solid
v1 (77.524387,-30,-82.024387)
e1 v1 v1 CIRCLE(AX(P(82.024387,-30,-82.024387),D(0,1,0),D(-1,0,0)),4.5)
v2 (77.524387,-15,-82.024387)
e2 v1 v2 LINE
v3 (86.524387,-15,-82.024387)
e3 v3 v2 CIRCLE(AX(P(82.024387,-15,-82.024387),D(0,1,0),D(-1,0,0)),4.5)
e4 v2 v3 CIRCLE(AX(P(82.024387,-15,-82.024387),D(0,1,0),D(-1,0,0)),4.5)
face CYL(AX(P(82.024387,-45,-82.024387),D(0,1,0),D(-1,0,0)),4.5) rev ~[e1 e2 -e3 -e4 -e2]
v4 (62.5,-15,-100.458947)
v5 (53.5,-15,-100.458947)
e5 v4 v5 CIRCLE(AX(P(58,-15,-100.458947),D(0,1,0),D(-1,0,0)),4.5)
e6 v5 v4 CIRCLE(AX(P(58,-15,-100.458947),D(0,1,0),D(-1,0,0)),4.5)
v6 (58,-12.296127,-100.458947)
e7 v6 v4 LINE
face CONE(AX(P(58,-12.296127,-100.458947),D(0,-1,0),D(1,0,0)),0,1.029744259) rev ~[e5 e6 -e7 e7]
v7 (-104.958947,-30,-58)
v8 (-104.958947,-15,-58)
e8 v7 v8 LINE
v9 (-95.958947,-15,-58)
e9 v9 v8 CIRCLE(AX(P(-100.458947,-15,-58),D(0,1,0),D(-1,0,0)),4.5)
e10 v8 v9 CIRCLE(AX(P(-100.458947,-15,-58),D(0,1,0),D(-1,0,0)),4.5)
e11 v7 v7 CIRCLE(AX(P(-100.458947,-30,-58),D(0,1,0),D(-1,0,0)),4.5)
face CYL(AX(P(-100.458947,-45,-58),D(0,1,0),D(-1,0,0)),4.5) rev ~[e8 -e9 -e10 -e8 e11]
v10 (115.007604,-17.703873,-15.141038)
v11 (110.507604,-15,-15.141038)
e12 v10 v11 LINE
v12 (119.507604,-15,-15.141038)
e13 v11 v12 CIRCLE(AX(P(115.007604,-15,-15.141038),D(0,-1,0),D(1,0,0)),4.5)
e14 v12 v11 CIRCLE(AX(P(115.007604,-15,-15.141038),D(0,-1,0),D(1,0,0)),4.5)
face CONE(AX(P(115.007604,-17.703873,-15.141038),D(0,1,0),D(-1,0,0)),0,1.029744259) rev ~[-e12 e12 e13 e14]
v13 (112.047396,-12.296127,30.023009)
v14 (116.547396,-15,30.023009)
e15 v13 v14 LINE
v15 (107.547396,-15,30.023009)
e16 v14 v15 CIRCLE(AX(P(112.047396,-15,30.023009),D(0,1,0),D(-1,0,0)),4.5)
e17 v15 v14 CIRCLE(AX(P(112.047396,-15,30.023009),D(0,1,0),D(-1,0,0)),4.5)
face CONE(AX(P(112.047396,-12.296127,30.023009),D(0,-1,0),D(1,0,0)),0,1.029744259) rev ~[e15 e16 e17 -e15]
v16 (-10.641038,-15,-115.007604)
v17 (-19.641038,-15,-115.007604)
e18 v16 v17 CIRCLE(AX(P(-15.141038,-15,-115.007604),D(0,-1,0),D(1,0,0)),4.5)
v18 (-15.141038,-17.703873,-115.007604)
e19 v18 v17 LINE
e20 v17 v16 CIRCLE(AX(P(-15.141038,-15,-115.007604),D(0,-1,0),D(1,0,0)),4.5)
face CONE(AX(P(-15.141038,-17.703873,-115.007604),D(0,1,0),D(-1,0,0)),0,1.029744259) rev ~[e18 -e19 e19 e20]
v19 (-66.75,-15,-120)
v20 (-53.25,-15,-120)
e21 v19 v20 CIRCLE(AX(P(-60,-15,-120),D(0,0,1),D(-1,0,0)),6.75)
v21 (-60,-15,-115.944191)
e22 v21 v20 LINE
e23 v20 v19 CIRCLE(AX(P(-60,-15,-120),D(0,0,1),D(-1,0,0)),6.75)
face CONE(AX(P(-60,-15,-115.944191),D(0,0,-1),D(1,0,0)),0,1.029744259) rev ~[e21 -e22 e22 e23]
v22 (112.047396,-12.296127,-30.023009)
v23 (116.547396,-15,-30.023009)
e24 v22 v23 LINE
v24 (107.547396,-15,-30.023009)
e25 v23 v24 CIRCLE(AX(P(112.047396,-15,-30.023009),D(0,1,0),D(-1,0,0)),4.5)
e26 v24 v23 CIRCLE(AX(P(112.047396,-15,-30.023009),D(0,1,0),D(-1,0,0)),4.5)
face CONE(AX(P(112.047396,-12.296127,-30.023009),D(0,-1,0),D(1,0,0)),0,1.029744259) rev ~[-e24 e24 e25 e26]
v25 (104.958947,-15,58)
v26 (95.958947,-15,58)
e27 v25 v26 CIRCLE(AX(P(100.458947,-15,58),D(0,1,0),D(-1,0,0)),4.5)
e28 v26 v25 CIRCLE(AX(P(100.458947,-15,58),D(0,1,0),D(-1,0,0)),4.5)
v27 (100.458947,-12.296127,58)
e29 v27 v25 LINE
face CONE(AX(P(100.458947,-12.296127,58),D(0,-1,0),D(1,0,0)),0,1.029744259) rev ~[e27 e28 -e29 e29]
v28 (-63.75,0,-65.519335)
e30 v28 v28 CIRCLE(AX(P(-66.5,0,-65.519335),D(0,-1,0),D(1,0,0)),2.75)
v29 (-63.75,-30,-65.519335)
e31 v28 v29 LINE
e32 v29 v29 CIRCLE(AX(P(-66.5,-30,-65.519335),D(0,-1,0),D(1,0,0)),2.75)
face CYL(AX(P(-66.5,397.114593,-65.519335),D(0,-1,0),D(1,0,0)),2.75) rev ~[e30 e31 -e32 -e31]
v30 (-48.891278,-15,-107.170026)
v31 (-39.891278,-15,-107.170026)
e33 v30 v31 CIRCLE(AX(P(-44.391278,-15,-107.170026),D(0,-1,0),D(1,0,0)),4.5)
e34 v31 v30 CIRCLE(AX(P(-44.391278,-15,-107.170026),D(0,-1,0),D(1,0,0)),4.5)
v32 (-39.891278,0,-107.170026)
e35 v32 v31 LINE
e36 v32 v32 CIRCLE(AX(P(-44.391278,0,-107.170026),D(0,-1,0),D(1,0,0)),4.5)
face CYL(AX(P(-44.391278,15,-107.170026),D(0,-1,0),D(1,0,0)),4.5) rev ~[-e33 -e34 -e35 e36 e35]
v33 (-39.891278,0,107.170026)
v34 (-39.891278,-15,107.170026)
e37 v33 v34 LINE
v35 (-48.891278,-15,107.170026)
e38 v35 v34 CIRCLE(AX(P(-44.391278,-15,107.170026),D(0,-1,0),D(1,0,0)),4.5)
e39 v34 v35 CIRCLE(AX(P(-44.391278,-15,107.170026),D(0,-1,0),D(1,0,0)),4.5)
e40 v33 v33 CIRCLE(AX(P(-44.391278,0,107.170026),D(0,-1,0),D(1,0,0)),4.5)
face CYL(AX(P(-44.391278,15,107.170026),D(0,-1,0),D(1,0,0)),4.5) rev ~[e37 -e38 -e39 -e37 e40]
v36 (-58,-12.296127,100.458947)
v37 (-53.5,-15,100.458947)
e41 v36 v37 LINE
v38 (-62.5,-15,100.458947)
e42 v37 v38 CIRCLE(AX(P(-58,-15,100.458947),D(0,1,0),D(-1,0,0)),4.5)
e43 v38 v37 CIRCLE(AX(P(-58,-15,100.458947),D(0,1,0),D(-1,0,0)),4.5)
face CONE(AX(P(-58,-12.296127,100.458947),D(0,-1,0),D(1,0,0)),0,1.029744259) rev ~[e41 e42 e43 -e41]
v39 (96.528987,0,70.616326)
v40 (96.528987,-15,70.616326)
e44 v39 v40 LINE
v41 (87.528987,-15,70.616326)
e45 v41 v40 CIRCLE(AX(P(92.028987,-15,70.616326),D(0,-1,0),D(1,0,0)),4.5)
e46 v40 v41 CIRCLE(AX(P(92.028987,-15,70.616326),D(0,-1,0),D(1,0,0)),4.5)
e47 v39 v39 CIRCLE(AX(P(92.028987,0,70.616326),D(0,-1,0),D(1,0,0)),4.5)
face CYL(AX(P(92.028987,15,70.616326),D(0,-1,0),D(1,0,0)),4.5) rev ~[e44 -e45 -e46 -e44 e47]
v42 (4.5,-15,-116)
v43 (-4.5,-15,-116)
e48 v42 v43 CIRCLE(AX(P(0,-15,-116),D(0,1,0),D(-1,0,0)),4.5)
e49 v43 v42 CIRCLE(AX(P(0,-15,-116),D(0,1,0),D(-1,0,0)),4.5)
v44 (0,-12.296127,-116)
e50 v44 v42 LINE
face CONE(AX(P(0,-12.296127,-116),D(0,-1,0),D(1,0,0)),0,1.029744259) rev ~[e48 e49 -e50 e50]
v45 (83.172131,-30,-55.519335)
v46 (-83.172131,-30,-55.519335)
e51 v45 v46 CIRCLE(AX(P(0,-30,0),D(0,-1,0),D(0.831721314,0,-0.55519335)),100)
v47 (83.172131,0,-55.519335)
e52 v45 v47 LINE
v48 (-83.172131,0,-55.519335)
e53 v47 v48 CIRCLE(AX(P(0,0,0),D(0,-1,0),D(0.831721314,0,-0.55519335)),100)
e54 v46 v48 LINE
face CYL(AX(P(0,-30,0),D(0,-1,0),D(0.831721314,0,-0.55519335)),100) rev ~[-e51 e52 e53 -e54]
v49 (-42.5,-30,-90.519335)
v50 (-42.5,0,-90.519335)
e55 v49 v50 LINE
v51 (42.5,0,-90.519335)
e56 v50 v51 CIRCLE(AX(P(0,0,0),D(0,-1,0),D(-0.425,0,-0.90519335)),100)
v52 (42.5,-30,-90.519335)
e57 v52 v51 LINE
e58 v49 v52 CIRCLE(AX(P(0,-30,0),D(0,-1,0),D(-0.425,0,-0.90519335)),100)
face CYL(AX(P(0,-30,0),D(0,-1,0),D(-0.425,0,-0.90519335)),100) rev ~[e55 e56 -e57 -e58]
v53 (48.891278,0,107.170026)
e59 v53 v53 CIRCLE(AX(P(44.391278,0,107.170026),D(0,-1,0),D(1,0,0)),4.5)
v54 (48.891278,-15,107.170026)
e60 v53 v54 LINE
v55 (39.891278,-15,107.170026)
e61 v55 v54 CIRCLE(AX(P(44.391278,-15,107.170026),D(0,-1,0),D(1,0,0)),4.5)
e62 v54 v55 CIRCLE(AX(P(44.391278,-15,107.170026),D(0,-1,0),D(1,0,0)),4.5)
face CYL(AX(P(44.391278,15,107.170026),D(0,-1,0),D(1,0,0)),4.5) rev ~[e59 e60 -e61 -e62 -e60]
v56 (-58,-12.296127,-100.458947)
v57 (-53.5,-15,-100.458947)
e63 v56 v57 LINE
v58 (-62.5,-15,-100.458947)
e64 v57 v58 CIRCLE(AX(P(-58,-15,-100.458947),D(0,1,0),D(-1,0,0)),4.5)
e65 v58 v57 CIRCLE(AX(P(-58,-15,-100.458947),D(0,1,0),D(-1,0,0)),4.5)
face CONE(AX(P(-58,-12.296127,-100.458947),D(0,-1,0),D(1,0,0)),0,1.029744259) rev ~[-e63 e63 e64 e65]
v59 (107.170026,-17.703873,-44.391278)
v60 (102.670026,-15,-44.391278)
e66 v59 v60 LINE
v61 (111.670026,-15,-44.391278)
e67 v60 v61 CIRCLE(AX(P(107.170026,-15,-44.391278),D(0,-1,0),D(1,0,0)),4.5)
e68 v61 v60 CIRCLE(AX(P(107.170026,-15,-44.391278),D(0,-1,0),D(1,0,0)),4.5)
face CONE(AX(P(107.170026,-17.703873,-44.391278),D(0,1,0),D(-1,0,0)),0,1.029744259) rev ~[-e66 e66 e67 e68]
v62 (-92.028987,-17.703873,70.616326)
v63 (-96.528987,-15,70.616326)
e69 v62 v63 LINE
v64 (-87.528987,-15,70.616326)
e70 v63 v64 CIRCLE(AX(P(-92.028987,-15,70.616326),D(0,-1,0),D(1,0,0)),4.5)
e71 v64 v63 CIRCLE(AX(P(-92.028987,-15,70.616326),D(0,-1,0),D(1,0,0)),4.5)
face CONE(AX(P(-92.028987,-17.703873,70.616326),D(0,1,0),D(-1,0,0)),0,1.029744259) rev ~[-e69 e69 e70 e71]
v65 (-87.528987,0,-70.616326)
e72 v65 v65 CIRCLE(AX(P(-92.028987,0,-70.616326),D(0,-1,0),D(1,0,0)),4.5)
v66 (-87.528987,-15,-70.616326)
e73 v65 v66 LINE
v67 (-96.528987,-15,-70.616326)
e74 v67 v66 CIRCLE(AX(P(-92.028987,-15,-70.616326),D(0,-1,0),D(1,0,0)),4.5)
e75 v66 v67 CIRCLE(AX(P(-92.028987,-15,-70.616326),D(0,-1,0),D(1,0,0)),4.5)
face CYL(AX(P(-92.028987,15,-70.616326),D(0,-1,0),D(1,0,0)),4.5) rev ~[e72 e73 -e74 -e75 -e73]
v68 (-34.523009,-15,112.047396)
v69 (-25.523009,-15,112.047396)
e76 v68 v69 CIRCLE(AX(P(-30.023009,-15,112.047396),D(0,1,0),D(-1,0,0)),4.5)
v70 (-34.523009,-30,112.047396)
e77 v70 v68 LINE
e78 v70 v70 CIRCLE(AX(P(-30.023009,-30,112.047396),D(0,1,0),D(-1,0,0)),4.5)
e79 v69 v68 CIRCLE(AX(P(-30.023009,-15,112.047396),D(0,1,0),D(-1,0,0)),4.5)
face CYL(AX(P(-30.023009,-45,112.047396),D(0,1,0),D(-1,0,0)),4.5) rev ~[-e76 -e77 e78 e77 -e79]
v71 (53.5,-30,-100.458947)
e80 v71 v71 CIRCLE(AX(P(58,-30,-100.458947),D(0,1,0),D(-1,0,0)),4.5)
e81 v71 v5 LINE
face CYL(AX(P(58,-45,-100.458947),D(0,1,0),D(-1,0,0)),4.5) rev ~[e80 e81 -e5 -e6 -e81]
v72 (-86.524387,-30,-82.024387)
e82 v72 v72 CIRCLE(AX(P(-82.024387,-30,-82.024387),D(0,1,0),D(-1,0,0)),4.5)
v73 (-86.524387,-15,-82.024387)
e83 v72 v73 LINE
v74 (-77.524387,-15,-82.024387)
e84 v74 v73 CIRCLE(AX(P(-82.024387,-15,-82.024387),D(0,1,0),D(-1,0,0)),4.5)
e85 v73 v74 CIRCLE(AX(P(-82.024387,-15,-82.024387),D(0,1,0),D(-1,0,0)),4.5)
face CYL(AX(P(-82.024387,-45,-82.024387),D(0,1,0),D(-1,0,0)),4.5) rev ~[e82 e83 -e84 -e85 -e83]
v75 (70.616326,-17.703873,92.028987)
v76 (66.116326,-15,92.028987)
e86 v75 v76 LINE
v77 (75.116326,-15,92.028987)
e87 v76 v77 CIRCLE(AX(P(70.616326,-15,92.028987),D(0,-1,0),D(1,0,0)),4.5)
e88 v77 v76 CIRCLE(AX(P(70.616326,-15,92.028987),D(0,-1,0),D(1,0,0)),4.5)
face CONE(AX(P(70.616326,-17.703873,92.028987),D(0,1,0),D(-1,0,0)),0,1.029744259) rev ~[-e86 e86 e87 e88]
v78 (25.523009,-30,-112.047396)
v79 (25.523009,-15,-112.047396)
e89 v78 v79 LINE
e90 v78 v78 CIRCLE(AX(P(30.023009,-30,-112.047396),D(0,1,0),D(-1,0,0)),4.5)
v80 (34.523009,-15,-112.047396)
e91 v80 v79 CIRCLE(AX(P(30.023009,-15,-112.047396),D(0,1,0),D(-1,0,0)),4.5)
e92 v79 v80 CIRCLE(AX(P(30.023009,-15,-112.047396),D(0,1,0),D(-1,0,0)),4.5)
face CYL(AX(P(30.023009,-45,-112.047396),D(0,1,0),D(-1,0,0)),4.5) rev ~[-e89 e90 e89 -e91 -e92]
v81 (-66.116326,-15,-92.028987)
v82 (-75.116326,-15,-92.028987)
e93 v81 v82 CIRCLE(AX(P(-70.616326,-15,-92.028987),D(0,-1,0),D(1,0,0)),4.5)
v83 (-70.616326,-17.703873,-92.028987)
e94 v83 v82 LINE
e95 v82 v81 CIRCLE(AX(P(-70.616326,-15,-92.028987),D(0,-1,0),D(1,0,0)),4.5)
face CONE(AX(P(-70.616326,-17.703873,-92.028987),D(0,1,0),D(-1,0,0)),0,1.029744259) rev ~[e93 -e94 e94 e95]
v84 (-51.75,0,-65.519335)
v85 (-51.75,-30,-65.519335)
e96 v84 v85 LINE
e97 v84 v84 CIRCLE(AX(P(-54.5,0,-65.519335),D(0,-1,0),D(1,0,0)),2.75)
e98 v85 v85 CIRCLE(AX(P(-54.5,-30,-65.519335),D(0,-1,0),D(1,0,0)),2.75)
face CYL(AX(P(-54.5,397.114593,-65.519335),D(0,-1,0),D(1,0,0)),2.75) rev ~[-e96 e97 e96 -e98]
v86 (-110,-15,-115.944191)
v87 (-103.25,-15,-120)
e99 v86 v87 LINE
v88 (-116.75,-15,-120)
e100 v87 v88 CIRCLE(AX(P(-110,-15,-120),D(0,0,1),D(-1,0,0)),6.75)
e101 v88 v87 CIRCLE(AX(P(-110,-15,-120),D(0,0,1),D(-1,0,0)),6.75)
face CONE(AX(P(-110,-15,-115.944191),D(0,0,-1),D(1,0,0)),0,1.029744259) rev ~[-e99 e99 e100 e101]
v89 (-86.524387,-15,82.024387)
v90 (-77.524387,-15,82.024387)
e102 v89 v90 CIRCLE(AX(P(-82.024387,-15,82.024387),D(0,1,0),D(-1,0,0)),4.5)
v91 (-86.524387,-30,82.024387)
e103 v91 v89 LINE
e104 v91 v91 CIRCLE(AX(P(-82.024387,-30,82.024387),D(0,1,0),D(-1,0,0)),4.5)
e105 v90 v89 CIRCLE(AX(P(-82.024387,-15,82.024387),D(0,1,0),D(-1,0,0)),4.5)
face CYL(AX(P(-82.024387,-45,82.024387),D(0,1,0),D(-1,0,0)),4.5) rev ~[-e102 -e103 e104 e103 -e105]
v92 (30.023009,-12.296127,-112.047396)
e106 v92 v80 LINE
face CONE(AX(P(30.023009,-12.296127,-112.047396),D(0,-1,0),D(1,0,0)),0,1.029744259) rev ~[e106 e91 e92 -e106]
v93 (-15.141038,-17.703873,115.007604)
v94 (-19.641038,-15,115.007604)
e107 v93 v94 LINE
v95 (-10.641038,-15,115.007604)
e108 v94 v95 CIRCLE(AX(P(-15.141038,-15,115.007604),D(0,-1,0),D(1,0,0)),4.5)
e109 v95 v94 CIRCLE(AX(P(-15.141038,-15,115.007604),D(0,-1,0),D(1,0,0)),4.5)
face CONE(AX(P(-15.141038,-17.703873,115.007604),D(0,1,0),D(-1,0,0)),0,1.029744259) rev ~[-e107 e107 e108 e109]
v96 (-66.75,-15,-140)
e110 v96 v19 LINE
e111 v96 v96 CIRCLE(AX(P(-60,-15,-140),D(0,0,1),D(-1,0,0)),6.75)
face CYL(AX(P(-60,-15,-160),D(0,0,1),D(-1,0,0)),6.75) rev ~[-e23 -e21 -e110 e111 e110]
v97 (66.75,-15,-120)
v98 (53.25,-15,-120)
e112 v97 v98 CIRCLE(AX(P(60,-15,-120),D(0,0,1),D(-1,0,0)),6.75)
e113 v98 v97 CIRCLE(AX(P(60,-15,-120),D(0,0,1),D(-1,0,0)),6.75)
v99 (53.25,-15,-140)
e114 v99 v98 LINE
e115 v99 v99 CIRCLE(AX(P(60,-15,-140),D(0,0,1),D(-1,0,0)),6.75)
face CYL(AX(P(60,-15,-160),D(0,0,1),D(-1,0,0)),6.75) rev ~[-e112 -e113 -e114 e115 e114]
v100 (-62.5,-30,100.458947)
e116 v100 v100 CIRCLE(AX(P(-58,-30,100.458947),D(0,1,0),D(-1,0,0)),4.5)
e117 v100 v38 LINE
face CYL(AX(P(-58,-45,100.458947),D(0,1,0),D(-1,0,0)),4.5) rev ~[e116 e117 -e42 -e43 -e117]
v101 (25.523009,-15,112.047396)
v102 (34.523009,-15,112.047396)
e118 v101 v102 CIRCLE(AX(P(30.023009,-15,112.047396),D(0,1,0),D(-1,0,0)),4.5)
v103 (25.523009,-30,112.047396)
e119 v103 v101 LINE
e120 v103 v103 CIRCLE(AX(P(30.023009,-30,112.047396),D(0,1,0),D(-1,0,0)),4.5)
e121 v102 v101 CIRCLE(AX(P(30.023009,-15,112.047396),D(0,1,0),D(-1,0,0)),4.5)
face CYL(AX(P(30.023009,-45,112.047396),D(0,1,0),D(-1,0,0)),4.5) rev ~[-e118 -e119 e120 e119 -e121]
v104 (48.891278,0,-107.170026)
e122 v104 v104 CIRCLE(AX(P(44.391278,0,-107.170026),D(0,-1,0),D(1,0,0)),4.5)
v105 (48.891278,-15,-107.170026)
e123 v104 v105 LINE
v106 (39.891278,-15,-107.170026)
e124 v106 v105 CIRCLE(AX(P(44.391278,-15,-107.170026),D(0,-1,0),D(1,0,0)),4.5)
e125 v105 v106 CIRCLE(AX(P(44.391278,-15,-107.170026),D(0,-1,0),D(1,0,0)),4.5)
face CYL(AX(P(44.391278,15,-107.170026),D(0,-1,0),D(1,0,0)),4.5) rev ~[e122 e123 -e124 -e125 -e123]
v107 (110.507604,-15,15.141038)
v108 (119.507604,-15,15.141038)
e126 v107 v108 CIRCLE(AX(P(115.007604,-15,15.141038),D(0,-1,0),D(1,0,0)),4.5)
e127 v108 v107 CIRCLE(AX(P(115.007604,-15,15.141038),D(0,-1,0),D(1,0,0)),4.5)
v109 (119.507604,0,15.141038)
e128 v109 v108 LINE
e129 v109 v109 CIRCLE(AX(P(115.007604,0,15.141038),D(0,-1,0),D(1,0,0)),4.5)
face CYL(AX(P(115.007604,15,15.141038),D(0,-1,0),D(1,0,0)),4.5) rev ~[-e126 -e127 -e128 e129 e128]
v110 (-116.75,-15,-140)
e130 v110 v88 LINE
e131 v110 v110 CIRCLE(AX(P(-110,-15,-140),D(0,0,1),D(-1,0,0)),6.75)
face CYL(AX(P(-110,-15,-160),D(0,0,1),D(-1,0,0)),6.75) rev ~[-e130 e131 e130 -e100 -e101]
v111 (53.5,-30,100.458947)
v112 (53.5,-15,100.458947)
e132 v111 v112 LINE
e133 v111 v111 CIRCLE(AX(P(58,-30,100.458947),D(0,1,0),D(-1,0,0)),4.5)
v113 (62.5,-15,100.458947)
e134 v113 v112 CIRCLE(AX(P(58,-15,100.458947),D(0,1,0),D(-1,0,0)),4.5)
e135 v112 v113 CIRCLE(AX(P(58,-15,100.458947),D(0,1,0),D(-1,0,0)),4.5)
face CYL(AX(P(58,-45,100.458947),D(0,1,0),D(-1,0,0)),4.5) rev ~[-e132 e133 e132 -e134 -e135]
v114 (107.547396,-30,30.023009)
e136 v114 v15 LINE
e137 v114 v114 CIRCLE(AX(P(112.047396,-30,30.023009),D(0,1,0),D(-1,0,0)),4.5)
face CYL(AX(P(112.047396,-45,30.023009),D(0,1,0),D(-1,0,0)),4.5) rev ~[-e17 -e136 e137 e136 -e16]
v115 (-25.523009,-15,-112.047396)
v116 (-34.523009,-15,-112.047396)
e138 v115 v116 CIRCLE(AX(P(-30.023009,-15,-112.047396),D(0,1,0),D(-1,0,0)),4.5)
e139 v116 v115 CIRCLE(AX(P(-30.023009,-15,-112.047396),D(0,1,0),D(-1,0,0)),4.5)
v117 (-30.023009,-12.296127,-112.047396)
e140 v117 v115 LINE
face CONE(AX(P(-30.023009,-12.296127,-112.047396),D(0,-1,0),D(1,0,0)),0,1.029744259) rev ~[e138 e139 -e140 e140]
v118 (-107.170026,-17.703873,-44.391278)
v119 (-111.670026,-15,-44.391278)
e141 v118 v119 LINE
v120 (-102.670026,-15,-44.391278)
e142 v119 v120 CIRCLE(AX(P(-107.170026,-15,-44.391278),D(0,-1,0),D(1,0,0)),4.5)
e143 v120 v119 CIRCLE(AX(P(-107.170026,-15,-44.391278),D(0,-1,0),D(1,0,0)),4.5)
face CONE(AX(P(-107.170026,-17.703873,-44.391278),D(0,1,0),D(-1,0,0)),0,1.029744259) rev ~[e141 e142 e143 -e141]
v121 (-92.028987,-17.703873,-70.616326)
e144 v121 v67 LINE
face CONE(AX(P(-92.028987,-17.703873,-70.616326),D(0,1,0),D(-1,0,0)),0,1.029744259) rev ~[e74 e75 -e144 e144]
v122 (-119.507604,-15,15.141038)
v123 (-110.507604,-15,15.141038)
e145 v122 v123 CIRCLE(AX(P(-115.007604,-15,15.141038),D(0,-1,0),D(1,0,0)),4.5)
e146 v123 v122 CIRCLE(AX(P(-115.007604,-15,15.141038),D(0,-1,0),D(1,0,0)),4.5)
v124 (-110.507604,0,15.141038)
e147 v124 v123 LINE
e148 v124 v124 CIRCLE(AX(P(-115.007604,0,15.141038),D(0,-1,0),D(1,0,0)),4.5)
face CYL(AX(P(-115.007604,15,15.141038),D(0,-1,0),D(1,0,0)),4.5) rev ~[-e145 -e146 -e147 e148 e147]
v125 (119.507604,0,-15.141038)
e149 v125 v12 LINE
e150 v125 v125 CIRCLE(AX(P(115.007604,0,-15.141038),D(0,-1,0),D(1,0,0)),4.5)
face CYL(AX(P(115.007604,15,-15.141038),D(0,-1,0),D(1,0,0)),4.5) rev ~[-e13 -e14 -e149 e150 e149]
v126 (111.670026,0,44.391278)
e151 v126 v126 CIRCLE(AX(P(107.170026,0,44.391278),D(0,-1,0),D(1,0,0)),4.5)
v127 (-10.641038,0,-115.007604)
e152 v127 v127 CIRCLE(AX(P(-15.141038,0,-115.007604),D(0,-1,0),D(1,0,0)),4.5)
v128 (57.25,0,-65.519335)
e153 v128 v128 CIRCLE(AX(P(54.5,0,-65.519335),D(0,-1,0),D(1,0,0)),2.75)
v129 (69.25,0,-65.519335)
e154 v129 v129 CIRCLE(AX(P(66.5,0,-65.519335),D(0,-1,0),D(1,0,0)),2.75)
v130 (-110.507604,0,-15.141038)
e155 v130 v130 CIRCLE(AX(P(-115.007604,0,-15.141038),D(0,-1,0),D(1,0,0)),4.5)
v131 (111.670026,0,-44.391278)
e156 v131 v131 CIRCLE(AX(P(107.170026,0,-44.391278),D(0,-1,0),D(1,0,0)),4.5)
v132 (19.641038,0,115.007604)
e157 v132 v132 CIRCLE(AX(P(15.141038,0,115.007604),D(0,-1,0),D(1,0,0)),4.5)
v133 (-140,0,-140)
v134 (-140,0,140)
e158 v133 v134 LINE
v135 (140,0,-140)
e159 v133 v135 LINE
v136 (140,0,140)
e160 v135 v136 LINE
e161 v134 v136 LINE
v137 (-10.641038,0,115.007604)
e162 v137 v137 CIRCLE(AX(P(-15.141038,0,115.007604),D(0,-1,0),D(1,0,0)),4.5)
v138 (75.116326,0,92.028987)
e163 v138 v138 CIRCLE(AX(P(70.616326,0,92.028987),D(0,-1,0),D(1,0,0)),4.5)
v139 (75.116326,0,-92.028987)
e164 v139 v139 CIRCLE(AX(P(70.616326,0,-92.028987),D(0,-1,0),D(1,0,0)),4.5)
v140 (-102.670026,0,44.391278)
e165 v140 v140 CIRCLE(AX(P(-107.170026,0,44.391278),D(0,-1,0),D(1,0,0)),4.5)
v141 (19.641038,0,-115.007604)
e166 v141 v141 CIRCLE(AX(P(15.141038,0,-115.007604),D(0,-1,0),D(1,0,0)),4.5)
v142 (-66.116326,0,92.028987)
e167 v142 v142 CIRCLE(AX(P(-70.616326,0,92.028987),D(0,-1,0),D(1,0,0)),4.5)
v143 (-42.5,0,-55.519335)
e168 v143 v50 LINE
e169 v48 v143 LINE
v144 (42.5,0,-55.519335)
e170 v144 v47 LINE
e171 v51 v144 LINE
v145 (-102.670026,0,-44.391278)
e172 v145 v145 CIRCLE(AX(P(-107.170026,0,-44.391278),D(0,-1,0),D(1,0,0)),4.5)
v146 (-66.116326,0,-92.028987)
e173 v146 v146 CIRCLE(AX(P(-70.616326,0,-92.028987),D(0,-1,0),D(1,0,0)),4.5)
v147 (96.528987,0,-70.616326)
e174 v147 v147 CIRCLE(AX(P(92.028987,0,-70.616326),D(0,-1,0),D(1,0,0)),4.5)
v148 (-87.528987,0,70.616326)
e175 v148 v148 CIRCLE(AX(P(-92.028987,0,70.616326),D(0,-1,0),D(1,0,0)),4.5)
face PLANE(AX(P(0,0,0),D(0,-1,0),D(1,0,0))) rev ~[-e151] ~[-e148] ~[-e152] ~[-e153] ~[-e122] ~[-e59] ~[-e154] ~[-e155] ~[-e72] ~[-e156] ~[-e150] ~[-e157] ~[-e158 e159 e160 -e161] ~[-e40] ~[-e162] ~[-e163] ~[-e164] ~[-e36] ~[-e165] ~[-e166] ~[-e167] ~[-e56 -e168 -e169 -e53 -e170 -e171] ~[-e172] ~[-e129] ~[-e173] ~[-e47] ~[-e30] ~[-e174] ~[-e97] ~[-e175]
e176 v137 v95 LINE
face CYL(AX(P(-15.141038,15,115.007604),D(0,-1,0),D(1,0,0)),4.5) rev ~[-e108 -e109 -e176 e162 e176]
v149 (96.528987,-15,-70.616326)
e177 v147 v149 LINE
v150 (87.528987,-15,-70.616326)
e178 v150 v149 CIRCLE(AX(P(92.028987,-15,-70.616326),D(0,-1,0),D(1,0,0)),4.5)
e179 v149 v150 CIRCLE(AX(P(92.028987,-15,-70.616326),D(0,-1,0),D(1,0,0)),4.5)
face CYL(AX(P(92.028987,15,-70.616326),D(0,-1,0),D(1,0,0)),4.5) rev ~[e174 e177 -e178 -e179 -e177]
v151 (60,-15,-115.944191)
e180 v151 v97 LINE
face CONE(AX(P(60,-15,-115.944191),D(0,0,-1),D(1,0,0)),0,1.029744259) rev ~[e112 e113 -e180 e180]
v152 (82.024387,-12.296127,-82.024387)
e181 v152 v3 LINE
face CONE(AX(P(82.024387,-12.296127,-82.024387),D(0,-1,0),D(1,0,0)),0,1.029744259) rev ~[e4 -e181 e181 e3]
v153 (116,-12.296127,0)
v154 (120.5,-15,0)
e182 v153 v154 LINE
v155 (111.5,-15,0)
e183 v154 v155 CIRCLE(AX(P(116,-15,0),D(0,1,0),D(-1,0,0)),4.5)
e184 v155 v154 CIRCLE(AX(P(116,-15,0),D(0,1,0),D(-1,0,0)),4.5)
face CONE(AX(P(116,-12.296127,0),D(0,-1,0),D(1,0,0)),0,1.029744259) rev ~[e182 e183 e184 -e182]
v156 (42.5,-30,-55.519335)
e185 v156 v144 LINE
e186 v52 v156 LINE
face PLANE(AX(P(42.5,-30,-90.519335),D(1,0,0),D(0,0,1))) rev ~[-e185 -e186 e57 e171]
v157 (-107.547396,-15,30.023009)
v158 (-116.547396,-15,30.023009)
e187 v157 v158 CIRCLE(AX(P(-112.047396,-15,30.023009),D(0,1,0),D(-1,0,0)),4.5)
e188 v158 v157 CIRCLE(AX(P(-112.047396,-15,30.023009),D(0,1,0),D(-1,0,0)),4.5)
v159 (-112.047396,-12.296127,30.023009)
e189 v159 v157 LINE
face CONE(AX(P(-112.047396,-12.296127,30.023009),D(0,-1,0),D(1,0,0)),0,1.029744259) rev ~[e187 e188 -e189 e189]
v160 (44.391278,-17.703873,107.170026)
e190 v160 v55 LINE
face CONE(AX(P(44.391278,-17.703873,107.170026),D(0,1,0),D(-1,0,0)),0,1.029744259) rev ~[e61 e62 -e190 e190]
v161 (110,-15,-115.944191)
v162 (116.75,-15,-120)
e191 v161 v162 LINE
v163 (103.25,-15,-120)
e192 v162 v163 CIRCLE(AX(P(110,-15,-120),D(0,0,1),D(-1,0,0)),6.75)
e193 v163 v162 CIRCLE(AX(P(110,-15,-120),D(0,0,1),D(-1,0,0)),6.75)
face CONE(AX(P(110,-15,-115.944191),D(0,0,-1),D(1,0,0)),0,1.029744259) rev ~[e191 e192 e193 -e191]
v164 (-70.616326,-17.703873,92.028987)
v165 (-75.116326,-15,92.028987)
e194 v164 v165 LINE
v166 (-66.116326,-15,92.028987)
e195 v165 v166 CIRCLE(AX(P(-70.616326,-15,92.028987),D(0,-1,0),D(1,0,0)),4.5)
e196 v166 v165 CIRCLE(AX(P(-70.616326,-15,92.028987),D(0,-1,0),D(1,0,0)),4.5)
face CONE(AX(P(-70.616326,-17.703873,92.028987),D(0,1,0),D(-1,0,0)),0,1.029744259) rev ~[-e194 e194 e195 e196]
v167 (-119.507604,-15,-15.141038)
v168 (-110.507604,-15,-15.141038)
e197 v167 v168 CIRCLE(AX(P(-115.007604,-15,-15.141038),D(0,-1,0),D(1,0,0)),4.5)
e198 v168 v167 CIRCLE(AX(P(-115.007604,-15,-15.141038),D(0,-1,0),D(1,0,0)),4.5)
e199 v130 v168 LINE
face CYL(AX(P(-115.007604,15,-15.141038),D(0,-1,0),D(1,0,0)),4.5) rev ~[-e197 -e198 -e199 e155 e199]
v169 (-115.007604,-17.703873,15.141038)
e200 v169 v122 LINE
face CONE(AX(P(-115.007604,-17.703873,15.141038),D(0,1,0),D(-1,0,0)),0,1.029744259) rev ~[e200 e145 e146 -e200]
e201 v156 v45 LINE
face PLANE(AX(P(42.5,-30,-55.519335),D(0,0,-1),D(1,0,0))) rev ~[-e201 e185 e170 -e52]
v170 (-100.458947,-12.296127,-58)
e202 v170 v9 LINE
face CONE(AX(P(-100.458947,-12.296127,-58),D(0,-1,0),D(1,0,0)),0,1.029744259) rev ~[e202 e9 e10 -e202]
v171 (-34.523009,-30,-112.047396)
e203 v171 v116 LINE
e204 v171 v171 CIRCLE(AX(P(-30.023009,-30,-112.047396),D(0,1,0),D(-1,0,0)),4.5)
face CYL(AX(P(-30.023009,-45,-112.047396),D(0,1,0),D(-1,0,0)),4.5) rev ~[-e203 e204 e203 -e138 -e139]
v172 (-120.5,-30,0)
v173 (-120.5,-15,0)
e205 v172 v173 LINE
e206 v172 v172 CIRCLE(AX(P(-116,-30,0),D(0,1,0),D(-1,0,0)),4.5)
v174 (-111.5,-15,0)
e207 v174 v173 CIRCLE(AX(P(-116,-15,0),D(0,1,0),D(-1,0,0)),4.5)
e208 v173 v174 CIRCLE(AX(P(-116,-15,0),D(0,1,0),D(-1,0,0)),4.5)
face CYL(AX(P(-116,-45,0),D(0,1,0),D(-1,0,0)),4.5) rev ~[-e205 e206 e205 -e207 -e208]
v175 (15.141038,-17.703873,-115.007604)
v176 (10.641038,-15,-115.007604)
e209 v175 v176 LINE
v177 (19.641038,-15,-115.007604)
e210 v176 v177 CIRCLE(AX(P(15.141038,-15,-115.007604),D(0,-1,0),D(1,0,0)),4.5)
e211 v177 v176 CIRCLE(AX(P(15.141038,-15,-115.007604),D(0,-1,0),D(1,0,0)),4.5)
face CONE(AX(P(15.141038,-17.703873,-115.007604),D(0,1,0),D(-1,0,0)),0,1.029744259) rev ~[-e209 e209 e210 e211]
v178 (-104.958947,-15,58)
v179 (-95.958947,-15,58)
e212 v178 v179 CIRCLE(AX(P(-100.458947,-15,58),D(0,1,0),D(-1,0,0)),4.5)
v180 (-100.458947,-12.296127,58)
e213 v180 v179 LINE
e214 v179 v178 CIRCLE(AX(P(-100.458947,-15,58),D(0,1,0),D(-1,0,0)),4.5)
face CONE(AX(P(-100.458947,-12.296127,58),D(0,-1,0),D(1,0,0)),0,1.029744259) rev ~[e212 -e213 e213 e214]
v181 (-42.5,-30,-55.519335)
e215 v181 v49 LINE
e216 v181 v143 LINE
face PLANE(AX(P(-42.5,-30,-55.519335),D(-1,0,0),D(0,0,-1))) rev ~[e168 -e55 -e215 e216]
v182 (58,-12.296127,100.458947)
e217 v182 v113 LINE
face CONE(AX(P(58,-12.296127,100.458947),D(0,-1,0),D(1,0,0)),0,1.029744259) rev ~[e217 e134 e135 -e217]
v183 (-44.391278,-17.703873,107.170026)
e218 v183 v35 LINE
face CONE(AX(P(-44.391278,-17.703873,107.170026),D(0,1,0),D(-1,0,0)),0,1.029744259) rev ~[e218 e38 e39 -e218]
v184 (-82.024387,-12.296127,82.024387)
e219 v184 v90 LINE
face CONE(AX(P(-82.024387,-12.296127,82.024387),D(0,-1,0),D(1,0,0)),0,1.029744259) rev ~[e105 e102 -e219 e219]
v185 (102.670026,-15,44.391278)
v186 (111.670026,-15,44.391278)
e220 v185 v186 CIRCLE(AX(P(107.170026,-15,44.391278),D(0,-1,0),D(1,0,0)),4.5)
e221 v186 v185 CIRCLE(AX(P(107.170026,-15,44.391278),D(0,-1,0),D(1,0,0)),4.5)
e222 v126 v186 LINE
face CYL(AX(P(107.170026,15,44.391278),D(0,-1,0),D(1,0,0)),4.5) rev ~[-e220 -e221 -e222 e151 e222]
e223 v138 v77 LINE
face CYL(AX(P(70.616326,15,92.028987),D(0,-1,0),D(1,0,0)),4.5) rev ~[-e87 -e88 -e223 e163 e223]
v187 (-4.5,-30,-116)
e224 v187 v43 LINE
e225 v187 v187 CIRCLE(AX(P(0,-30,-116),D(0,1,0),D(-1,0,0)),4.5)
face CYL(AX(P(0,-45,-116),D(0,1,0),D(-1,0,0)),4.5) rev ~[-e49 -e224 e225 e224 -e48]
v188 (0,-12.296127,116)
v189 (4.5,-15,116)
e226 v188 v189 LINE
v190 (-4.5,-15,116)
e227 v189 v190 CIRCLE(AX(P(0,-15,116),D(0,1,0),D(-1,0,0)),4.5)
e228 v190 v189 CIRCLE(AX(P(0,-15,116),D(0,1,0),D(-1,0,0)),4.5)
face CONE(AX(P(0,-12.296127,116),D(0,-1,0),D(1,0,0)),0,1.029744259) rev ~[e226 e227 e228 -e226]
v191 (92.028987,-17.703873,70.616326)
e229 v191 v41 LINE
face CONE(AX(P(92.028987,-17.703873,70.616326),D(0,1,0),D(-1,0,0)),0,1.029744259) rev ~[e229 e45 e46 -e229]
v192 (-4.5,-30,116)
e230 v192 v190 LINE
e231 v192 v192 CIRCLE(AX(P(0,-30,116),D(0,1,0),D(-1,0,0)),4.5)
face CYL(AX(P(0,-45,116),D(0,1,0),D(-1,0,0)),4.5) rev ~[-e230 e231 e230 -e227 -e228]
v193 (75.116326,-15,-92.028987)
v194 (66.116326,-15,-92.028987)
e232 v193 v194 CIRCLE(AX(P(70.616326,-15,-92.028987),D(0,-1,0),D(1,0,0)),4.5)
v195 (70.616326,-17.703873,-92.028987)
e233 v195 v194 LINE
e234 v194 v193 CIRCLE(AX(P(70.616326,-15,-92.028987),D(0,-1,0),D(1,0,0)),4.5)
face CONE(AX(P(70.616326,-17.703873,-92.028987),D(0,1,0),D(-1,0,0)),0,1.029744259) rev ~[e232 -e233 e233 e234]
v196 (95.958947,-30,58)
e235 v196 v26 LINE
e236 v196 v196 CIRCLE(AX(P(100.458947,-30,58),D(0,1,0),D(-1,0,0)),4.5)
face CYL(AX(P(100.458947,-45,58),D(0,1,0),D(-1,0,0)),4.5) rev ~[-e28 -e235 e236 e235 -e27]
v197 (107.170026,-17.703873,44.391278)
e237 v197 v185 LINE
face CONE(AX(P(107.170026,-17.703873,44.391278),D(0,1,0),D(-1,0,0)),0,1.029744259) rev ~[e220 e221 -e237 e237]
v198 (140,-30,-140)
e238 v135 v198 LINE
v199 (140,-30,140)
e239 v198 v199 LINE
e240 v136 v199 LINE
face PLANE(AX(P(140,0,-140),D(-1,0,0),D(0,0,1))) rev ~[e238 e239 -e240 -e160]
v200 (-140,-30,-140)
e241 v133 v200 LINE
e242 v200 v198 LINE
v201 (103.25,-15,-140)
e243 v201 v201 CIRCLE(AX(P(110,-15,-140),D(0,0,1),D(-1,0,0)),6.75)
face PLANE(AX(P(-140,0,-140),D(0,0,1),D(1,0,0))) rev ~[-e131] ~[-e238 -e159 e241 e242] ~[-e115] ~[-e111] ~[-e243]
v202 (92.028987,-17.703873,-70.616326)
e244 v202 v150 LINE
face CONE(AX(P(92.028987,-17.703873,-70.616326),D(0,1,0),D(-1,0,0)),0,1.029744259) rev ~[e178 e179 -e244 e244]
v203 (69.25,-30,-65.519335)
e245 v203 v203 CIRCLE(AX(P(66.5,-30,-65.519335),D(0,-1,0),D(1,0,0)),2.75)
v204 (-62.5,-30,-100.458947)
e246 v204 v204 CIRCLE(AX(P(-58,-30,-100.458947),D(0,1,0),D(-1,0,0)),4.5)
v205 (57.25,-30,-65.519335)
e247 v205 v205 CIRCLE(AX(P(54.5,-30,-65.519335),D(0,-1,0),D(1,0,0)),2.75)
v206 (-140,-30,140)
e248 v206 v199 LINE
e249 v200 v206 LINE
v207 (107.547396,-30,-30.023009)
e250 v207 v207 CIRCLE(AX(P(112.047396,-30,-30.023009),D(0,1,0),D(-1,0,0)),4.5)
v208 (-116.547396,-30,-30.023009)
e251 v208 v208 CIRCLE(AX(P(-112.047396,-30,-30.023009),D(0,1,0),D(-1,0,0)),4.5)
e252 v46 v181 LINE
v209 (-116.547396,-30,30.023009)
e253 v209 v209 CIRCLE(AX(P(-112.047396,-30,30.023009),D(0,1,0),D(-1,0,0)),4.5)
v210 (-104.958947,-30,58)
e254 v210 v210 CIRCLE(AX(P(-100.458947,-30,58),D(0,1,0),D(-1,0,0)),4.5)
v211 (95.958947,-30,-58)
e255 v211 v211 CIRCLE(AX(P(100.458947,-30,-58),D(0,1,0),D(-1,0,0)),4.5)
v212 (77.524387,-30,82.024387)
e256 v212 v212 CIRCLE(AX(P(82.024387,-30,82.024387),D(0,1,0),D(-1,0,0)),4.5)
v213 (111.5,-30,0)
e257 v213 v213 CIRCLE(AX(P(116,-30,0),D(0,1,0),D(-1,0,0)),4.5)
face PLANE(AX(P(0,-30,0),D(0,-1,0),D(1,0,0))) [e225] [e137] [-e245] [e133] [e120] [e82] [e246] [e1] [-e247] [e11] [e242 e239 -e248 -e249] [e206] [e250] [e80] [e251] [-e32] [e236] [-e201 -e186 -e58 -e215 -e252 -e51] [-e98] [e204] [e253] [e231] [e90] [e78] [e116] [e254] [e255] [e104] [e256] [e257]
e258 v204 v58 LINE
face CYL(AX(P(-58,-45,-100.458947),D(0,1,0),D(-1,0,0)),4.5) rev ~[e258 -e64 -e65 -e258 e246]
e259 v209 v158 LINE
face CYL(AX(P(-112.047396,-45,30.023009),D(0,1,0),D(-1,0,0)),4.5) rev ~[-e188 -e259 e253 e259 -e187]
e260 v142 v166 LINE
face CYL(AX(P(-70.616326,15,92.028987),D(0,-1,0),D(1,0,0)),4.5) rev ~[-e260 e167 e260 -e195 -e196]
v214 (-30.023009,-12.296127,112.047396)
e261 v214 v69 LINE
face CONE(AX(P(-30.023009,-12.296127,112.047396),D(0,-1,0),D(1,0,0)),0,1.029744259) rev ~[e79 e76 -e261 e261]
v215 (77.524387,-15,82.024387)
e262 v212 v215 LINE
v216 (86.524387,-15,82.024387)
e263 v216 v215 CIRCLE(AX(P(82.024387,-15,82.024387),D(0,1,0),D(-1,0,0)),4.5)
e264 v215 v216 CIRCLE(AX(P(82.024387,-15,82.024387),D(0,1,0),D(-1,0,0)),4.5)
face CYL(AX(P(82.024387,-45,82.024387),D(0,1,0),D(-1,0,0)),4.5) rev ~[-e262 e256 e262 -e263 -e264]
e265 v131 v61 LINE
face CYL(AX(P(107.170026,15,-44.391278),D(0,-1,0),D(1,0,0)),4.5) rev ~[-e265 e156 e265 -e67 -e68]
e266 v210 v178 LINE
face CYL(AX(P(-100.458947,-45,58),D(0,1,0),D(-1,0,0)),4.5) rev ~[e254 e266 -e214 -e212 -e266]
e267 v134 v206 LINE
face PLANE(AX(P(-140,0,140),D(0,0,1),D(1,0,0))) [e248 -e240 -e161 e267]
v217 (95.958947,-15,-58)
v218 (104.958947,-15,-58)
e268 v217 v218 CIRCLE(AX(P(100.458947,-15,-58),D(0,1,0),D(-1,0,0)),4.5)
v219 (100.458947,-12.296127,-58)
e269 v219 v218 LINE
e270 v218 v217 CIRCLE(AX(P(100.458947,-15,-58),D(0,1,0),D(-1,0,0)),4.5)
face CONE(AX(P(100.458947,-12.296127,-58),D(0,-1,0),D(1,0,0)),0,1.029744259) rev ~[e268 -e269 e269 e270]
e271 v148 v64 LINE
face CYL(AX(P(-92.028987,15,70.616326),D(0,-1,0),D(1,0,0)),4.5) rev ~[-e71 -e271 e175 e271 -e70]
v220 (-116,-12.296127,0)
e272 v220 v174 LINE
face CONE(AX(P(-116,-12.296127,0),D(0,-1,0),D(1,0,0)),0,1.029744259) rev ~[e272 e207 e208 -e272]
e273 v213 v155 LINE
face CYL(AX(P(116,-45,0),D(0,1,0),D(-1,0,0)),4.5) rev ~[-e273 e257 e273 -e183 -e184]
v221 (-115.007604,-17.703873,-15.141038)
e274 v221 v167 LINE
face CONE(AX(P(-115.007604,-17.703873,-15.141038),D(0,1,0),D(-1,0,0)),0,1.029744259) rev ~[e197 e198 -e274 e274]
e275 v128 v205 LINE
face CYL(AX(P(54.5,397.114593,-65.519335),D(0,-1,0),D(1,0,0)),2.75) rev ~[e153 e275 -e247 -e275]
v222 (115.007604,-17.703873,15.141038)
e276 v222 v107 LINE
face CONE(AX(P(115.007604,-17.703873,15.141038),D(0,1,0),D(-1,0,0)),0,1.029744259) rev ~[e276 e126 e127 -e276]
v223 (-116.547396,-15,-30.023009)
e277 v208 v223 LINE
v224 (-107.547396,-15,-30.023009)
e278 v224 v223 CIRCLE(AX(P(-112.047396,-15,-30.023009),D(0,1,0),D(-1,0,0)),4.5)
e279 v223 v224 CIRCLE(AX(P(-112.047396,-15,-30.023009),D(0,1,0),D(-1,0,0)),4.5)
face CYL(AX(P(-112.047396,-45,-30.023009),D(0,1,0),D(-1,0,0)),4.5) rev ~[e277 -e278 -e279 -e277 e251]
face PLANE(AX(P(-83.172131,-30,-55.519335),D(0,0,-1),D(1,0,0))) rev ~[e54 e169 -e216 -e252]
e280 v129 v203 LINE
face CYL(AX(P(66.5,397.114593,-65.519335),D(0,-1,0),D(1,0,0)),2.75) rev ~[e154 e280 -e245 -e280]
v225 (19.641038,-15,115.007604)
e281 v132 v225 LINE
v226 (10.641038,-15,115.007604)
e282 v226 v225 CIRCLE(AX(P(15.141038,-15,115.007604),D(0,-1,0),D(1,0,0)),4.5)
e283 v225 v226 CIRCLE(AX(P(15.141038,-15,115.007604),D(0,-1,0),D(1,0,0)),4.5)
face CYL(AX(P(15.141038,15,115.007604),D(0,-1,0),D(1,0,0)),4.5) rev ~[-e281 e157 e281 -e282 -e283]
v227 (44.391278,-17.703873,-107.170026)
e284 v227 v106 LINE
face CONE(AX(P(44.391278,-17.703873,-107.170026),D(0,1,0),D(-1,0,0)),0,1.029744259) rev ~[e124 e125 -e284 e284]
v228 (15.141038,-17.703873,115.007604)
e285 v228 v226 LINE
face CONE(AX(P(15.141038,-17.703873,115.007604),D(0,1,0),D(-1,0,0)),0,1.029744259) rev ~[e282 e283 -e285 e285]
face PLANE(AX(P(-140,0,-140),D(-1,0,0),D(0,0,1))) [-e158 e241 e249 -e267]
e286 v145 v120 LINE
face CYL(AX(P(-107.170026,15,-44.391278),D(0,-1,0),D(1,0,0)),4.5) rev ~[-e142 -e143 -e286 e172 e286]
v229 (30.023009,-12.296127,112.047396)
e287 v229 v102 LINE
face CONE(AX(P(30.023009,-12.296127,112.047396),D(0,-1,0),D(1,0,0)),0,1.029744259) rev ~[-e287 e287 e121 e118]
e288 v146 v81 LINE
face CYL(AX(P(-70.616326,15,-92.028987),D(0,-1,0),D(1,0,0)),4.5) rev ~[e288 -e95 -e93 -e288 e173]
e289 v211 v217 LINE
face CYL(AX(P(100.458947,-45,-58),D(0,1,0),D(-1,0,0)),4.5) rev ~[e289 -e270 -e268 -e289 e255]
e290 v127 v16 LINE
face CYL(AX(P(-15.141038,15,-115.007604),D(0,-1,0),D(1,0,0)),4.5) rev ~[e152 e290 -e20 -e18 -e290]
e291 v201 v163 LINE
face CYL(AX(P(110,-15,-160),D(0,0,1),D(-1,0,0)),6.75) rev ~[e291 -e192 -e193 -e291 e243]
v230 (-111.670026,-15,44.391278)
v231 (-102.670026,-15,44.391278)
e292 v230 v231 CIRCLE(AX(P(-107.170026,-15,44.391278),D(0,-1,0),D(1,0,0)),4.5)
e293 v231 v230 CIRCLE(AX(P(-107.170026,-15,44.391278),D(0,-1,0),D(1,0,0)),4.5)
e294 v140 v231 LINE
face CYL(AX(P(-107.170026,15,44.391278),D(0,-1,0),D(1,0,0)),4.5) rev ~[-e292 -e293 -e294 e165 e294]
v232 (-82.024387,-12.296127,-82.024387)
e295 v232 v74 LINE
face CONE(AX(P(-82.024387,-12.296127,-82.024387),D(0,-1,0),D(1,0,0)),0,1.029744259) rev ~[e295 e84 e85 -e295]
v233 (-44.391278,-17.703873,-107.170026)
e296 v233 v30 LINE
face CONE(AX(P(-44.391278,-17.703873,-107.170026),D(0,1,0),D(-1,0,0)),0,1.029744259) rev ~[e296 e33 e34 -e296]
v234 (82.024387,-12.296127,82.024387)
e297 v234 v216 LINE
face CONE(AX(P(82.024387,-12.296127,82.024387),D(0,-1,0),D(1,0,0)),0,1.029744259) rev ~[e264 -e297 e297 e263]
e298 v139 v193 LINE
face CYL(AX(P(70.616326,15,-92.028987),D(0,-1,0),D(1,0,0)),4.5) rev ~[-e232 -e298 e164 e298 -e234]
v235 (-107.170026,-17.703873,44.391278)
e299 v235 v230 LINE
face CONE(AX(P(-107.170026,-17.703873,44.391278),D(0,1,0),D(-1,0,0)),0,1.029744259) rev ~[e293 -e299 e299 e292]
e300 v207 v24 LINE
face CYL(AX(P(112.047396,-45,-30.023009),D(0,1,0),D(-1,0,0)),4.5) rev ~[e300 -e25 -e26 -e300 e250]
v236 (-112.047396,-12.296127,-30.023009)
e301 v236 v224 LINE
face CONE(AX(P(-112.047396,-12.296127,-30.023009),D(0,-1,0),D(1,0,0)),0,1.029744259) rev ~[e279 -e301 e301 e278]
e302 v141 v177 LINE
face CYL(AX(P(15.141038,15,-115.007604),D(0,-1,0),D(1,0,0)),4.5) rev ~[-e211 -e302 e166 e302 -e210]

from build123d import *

# Parameters (mm, degrees)
F0_W     = 280
F0_H     = 280
F0_R     = 100
F1_DEPTH = 30
F3_D     = 13.5
F3_DEPTH = 20
F3_TIP   = 4.0558091784
F5_DEPTH = 30.001
F7_D     = 9
F7_DEPTH = 15
F7_TIP   = 2.7038727856
F9_D     = 9
F9_DEPTH = 15
F9_TIP   = 2.7038727856
F11_D    = 5.5


with BuildPart() as f1:
    # F0 (on Front) → F1 (new body)
    with BuildSketch(Plane.XZ):
        Rectangle(F0_W, F0_H)
        Circle(F0_R, mode=Mode.SUBTRACT)
        Circle(F0_R)
    extrude(amount=F1_DEPTH)

    # F3
    with Locations(Plane(origin=(0, 0, -140), x_dir=(1, 0, 0), z_dir=(0, 0, -1))):
        with Locations((110, 15), (60, 15), (-60, 15), (-110, 15)):
            Hole(F3_D / 2, depth=F3_DEPTH)
            with Locations((0, 0, -(F3_DEPTH + F3_TIP / 2))):  # 118° drill point
                Cone(0, F3_D / 2, F3_TIP, mode=Mode.SUBTRACT)

    # F4 (on face) → F5 (cut, through all)
    with BuildSketch(Plane.XZ.offset(30)):
        with BuildLine():
            ThreePointArc((-42.5, -90.5193349512), (0, -100), (42.5, -90.5193349512))
            Line((42.5, -90.5193349512), (42.5, -55.5193349512))
            Line((42.5, -55.5193349512), (83.1721314298, -55.5193349512))
            ThreePointArc((83.1721314298, -55.5193349512), (0, 100), (-83.1721314298, -55.5193349512))
            Line((-83.1721314298, -55.5193349512), (-42.5, -55.5193349512))
            Line((-42.5, -55.5193349512), (-42.5, -90.5193349512))
        make_face()
    extrude(amount=-F5_DEPTH, mode=Mode.SUBTRACT)

    # F7
    with Locations(Plane.XZ.offset(30)):
        with Locations((0, 116), (30.0230092319, 112.0473958495), (58, 100.458946839), (82.0243866176, 82.0243866176), (100.458946839, 58), (112.0473958495, 30.0230092319), (116, 0), (112.0473958495, -30.0230092319), (100.458946839, -58), (82.0243866176, -82.0243866176), (58, -100.458946839), (30.0230092319, -112.0473958495), (0, -116), (-30.0230092319, -112.0473958495), (-58, -100.458946839), (-82.0243866176, -82.0243866176), (-100.458946839, -58), (-112.0473958495, -30.0230092319), (-116, 0), (-112.0473958495, 30.0230092319), (-100.458946839, 58), (-82.0243866176, 82.0243866176), (-58, 100.458946839), (-30.0230092319, 112.0473958495)):
            Hole(F7_D / 2, depth=F7_DEPTH)
            with Locations((0, 0, -(F7_DEPTH + F7_TIP / 2))):  # 118° drill point
                Cone(0, F7_D / 2, F7_TIP, mode=Mode.SUBTRACT)

    # F9
    with Locations(Plane(origin=(0, 0, 0), x_dir=(-1, 0, 0), z_dir=(0, 1, 0))):
        with Locations((15.1410382975, 115.0076039194), (44.3912781544, 107.1700257713), (70.616325765, 92.0289874738), (92.0289874738, 70.616325765), (107.1700257713, 44.3912781544), (115.0076039194, 15.1410382975), (115.0076039194, -15.1410382975), (107.1700257713, -44.3912781544), (92.0289874738, -70.616325765), (70.616325765, -92.0289874738), (44.3912781544, -107.1700257713), (15.1410382975, -115.0076039194), (-15.1410382975, -115.0076039194), (-44.3912781544, -107.1700257713), (-70.616325765, -92.0289874738), (-92.0289874738, -70.616325765), (-107.1700257713, -44.3912781544), (-115.0076039194, -15.1410382975), (-115.0076039194, 15.1410382975), (-107.1700257713, 44.3912781544), (-92.0289874738, 70.616325765), (-70.616325765, 92.0289874738), (-44.3912781544, 107.1700257713), (-15.1410382975, 115.0076039194)):
            Hole(F9_D / 2, depth=F9_DEPTH)
            with Locations((0, 0, -(F9_DEPTH + F9_TIP / 2))):  # 118° drill point
                Cone(0, F9_D / 2, F9_TIP, mode=Mode.SUBTRACT)

    # F11 (through all)
    with Locations(Plane(origin=(0, 0, 0), x_dir=(-1, 0, 0), z_dir=(0, 1, 0))):
        with Locations((54.5, -65.5193349512), (66.5, -65.5193349512), (-66.5, -65.5193349512), (-54.5, -65.5193349512)):
            Hole(F11_D / 2)


solid = f1.part
